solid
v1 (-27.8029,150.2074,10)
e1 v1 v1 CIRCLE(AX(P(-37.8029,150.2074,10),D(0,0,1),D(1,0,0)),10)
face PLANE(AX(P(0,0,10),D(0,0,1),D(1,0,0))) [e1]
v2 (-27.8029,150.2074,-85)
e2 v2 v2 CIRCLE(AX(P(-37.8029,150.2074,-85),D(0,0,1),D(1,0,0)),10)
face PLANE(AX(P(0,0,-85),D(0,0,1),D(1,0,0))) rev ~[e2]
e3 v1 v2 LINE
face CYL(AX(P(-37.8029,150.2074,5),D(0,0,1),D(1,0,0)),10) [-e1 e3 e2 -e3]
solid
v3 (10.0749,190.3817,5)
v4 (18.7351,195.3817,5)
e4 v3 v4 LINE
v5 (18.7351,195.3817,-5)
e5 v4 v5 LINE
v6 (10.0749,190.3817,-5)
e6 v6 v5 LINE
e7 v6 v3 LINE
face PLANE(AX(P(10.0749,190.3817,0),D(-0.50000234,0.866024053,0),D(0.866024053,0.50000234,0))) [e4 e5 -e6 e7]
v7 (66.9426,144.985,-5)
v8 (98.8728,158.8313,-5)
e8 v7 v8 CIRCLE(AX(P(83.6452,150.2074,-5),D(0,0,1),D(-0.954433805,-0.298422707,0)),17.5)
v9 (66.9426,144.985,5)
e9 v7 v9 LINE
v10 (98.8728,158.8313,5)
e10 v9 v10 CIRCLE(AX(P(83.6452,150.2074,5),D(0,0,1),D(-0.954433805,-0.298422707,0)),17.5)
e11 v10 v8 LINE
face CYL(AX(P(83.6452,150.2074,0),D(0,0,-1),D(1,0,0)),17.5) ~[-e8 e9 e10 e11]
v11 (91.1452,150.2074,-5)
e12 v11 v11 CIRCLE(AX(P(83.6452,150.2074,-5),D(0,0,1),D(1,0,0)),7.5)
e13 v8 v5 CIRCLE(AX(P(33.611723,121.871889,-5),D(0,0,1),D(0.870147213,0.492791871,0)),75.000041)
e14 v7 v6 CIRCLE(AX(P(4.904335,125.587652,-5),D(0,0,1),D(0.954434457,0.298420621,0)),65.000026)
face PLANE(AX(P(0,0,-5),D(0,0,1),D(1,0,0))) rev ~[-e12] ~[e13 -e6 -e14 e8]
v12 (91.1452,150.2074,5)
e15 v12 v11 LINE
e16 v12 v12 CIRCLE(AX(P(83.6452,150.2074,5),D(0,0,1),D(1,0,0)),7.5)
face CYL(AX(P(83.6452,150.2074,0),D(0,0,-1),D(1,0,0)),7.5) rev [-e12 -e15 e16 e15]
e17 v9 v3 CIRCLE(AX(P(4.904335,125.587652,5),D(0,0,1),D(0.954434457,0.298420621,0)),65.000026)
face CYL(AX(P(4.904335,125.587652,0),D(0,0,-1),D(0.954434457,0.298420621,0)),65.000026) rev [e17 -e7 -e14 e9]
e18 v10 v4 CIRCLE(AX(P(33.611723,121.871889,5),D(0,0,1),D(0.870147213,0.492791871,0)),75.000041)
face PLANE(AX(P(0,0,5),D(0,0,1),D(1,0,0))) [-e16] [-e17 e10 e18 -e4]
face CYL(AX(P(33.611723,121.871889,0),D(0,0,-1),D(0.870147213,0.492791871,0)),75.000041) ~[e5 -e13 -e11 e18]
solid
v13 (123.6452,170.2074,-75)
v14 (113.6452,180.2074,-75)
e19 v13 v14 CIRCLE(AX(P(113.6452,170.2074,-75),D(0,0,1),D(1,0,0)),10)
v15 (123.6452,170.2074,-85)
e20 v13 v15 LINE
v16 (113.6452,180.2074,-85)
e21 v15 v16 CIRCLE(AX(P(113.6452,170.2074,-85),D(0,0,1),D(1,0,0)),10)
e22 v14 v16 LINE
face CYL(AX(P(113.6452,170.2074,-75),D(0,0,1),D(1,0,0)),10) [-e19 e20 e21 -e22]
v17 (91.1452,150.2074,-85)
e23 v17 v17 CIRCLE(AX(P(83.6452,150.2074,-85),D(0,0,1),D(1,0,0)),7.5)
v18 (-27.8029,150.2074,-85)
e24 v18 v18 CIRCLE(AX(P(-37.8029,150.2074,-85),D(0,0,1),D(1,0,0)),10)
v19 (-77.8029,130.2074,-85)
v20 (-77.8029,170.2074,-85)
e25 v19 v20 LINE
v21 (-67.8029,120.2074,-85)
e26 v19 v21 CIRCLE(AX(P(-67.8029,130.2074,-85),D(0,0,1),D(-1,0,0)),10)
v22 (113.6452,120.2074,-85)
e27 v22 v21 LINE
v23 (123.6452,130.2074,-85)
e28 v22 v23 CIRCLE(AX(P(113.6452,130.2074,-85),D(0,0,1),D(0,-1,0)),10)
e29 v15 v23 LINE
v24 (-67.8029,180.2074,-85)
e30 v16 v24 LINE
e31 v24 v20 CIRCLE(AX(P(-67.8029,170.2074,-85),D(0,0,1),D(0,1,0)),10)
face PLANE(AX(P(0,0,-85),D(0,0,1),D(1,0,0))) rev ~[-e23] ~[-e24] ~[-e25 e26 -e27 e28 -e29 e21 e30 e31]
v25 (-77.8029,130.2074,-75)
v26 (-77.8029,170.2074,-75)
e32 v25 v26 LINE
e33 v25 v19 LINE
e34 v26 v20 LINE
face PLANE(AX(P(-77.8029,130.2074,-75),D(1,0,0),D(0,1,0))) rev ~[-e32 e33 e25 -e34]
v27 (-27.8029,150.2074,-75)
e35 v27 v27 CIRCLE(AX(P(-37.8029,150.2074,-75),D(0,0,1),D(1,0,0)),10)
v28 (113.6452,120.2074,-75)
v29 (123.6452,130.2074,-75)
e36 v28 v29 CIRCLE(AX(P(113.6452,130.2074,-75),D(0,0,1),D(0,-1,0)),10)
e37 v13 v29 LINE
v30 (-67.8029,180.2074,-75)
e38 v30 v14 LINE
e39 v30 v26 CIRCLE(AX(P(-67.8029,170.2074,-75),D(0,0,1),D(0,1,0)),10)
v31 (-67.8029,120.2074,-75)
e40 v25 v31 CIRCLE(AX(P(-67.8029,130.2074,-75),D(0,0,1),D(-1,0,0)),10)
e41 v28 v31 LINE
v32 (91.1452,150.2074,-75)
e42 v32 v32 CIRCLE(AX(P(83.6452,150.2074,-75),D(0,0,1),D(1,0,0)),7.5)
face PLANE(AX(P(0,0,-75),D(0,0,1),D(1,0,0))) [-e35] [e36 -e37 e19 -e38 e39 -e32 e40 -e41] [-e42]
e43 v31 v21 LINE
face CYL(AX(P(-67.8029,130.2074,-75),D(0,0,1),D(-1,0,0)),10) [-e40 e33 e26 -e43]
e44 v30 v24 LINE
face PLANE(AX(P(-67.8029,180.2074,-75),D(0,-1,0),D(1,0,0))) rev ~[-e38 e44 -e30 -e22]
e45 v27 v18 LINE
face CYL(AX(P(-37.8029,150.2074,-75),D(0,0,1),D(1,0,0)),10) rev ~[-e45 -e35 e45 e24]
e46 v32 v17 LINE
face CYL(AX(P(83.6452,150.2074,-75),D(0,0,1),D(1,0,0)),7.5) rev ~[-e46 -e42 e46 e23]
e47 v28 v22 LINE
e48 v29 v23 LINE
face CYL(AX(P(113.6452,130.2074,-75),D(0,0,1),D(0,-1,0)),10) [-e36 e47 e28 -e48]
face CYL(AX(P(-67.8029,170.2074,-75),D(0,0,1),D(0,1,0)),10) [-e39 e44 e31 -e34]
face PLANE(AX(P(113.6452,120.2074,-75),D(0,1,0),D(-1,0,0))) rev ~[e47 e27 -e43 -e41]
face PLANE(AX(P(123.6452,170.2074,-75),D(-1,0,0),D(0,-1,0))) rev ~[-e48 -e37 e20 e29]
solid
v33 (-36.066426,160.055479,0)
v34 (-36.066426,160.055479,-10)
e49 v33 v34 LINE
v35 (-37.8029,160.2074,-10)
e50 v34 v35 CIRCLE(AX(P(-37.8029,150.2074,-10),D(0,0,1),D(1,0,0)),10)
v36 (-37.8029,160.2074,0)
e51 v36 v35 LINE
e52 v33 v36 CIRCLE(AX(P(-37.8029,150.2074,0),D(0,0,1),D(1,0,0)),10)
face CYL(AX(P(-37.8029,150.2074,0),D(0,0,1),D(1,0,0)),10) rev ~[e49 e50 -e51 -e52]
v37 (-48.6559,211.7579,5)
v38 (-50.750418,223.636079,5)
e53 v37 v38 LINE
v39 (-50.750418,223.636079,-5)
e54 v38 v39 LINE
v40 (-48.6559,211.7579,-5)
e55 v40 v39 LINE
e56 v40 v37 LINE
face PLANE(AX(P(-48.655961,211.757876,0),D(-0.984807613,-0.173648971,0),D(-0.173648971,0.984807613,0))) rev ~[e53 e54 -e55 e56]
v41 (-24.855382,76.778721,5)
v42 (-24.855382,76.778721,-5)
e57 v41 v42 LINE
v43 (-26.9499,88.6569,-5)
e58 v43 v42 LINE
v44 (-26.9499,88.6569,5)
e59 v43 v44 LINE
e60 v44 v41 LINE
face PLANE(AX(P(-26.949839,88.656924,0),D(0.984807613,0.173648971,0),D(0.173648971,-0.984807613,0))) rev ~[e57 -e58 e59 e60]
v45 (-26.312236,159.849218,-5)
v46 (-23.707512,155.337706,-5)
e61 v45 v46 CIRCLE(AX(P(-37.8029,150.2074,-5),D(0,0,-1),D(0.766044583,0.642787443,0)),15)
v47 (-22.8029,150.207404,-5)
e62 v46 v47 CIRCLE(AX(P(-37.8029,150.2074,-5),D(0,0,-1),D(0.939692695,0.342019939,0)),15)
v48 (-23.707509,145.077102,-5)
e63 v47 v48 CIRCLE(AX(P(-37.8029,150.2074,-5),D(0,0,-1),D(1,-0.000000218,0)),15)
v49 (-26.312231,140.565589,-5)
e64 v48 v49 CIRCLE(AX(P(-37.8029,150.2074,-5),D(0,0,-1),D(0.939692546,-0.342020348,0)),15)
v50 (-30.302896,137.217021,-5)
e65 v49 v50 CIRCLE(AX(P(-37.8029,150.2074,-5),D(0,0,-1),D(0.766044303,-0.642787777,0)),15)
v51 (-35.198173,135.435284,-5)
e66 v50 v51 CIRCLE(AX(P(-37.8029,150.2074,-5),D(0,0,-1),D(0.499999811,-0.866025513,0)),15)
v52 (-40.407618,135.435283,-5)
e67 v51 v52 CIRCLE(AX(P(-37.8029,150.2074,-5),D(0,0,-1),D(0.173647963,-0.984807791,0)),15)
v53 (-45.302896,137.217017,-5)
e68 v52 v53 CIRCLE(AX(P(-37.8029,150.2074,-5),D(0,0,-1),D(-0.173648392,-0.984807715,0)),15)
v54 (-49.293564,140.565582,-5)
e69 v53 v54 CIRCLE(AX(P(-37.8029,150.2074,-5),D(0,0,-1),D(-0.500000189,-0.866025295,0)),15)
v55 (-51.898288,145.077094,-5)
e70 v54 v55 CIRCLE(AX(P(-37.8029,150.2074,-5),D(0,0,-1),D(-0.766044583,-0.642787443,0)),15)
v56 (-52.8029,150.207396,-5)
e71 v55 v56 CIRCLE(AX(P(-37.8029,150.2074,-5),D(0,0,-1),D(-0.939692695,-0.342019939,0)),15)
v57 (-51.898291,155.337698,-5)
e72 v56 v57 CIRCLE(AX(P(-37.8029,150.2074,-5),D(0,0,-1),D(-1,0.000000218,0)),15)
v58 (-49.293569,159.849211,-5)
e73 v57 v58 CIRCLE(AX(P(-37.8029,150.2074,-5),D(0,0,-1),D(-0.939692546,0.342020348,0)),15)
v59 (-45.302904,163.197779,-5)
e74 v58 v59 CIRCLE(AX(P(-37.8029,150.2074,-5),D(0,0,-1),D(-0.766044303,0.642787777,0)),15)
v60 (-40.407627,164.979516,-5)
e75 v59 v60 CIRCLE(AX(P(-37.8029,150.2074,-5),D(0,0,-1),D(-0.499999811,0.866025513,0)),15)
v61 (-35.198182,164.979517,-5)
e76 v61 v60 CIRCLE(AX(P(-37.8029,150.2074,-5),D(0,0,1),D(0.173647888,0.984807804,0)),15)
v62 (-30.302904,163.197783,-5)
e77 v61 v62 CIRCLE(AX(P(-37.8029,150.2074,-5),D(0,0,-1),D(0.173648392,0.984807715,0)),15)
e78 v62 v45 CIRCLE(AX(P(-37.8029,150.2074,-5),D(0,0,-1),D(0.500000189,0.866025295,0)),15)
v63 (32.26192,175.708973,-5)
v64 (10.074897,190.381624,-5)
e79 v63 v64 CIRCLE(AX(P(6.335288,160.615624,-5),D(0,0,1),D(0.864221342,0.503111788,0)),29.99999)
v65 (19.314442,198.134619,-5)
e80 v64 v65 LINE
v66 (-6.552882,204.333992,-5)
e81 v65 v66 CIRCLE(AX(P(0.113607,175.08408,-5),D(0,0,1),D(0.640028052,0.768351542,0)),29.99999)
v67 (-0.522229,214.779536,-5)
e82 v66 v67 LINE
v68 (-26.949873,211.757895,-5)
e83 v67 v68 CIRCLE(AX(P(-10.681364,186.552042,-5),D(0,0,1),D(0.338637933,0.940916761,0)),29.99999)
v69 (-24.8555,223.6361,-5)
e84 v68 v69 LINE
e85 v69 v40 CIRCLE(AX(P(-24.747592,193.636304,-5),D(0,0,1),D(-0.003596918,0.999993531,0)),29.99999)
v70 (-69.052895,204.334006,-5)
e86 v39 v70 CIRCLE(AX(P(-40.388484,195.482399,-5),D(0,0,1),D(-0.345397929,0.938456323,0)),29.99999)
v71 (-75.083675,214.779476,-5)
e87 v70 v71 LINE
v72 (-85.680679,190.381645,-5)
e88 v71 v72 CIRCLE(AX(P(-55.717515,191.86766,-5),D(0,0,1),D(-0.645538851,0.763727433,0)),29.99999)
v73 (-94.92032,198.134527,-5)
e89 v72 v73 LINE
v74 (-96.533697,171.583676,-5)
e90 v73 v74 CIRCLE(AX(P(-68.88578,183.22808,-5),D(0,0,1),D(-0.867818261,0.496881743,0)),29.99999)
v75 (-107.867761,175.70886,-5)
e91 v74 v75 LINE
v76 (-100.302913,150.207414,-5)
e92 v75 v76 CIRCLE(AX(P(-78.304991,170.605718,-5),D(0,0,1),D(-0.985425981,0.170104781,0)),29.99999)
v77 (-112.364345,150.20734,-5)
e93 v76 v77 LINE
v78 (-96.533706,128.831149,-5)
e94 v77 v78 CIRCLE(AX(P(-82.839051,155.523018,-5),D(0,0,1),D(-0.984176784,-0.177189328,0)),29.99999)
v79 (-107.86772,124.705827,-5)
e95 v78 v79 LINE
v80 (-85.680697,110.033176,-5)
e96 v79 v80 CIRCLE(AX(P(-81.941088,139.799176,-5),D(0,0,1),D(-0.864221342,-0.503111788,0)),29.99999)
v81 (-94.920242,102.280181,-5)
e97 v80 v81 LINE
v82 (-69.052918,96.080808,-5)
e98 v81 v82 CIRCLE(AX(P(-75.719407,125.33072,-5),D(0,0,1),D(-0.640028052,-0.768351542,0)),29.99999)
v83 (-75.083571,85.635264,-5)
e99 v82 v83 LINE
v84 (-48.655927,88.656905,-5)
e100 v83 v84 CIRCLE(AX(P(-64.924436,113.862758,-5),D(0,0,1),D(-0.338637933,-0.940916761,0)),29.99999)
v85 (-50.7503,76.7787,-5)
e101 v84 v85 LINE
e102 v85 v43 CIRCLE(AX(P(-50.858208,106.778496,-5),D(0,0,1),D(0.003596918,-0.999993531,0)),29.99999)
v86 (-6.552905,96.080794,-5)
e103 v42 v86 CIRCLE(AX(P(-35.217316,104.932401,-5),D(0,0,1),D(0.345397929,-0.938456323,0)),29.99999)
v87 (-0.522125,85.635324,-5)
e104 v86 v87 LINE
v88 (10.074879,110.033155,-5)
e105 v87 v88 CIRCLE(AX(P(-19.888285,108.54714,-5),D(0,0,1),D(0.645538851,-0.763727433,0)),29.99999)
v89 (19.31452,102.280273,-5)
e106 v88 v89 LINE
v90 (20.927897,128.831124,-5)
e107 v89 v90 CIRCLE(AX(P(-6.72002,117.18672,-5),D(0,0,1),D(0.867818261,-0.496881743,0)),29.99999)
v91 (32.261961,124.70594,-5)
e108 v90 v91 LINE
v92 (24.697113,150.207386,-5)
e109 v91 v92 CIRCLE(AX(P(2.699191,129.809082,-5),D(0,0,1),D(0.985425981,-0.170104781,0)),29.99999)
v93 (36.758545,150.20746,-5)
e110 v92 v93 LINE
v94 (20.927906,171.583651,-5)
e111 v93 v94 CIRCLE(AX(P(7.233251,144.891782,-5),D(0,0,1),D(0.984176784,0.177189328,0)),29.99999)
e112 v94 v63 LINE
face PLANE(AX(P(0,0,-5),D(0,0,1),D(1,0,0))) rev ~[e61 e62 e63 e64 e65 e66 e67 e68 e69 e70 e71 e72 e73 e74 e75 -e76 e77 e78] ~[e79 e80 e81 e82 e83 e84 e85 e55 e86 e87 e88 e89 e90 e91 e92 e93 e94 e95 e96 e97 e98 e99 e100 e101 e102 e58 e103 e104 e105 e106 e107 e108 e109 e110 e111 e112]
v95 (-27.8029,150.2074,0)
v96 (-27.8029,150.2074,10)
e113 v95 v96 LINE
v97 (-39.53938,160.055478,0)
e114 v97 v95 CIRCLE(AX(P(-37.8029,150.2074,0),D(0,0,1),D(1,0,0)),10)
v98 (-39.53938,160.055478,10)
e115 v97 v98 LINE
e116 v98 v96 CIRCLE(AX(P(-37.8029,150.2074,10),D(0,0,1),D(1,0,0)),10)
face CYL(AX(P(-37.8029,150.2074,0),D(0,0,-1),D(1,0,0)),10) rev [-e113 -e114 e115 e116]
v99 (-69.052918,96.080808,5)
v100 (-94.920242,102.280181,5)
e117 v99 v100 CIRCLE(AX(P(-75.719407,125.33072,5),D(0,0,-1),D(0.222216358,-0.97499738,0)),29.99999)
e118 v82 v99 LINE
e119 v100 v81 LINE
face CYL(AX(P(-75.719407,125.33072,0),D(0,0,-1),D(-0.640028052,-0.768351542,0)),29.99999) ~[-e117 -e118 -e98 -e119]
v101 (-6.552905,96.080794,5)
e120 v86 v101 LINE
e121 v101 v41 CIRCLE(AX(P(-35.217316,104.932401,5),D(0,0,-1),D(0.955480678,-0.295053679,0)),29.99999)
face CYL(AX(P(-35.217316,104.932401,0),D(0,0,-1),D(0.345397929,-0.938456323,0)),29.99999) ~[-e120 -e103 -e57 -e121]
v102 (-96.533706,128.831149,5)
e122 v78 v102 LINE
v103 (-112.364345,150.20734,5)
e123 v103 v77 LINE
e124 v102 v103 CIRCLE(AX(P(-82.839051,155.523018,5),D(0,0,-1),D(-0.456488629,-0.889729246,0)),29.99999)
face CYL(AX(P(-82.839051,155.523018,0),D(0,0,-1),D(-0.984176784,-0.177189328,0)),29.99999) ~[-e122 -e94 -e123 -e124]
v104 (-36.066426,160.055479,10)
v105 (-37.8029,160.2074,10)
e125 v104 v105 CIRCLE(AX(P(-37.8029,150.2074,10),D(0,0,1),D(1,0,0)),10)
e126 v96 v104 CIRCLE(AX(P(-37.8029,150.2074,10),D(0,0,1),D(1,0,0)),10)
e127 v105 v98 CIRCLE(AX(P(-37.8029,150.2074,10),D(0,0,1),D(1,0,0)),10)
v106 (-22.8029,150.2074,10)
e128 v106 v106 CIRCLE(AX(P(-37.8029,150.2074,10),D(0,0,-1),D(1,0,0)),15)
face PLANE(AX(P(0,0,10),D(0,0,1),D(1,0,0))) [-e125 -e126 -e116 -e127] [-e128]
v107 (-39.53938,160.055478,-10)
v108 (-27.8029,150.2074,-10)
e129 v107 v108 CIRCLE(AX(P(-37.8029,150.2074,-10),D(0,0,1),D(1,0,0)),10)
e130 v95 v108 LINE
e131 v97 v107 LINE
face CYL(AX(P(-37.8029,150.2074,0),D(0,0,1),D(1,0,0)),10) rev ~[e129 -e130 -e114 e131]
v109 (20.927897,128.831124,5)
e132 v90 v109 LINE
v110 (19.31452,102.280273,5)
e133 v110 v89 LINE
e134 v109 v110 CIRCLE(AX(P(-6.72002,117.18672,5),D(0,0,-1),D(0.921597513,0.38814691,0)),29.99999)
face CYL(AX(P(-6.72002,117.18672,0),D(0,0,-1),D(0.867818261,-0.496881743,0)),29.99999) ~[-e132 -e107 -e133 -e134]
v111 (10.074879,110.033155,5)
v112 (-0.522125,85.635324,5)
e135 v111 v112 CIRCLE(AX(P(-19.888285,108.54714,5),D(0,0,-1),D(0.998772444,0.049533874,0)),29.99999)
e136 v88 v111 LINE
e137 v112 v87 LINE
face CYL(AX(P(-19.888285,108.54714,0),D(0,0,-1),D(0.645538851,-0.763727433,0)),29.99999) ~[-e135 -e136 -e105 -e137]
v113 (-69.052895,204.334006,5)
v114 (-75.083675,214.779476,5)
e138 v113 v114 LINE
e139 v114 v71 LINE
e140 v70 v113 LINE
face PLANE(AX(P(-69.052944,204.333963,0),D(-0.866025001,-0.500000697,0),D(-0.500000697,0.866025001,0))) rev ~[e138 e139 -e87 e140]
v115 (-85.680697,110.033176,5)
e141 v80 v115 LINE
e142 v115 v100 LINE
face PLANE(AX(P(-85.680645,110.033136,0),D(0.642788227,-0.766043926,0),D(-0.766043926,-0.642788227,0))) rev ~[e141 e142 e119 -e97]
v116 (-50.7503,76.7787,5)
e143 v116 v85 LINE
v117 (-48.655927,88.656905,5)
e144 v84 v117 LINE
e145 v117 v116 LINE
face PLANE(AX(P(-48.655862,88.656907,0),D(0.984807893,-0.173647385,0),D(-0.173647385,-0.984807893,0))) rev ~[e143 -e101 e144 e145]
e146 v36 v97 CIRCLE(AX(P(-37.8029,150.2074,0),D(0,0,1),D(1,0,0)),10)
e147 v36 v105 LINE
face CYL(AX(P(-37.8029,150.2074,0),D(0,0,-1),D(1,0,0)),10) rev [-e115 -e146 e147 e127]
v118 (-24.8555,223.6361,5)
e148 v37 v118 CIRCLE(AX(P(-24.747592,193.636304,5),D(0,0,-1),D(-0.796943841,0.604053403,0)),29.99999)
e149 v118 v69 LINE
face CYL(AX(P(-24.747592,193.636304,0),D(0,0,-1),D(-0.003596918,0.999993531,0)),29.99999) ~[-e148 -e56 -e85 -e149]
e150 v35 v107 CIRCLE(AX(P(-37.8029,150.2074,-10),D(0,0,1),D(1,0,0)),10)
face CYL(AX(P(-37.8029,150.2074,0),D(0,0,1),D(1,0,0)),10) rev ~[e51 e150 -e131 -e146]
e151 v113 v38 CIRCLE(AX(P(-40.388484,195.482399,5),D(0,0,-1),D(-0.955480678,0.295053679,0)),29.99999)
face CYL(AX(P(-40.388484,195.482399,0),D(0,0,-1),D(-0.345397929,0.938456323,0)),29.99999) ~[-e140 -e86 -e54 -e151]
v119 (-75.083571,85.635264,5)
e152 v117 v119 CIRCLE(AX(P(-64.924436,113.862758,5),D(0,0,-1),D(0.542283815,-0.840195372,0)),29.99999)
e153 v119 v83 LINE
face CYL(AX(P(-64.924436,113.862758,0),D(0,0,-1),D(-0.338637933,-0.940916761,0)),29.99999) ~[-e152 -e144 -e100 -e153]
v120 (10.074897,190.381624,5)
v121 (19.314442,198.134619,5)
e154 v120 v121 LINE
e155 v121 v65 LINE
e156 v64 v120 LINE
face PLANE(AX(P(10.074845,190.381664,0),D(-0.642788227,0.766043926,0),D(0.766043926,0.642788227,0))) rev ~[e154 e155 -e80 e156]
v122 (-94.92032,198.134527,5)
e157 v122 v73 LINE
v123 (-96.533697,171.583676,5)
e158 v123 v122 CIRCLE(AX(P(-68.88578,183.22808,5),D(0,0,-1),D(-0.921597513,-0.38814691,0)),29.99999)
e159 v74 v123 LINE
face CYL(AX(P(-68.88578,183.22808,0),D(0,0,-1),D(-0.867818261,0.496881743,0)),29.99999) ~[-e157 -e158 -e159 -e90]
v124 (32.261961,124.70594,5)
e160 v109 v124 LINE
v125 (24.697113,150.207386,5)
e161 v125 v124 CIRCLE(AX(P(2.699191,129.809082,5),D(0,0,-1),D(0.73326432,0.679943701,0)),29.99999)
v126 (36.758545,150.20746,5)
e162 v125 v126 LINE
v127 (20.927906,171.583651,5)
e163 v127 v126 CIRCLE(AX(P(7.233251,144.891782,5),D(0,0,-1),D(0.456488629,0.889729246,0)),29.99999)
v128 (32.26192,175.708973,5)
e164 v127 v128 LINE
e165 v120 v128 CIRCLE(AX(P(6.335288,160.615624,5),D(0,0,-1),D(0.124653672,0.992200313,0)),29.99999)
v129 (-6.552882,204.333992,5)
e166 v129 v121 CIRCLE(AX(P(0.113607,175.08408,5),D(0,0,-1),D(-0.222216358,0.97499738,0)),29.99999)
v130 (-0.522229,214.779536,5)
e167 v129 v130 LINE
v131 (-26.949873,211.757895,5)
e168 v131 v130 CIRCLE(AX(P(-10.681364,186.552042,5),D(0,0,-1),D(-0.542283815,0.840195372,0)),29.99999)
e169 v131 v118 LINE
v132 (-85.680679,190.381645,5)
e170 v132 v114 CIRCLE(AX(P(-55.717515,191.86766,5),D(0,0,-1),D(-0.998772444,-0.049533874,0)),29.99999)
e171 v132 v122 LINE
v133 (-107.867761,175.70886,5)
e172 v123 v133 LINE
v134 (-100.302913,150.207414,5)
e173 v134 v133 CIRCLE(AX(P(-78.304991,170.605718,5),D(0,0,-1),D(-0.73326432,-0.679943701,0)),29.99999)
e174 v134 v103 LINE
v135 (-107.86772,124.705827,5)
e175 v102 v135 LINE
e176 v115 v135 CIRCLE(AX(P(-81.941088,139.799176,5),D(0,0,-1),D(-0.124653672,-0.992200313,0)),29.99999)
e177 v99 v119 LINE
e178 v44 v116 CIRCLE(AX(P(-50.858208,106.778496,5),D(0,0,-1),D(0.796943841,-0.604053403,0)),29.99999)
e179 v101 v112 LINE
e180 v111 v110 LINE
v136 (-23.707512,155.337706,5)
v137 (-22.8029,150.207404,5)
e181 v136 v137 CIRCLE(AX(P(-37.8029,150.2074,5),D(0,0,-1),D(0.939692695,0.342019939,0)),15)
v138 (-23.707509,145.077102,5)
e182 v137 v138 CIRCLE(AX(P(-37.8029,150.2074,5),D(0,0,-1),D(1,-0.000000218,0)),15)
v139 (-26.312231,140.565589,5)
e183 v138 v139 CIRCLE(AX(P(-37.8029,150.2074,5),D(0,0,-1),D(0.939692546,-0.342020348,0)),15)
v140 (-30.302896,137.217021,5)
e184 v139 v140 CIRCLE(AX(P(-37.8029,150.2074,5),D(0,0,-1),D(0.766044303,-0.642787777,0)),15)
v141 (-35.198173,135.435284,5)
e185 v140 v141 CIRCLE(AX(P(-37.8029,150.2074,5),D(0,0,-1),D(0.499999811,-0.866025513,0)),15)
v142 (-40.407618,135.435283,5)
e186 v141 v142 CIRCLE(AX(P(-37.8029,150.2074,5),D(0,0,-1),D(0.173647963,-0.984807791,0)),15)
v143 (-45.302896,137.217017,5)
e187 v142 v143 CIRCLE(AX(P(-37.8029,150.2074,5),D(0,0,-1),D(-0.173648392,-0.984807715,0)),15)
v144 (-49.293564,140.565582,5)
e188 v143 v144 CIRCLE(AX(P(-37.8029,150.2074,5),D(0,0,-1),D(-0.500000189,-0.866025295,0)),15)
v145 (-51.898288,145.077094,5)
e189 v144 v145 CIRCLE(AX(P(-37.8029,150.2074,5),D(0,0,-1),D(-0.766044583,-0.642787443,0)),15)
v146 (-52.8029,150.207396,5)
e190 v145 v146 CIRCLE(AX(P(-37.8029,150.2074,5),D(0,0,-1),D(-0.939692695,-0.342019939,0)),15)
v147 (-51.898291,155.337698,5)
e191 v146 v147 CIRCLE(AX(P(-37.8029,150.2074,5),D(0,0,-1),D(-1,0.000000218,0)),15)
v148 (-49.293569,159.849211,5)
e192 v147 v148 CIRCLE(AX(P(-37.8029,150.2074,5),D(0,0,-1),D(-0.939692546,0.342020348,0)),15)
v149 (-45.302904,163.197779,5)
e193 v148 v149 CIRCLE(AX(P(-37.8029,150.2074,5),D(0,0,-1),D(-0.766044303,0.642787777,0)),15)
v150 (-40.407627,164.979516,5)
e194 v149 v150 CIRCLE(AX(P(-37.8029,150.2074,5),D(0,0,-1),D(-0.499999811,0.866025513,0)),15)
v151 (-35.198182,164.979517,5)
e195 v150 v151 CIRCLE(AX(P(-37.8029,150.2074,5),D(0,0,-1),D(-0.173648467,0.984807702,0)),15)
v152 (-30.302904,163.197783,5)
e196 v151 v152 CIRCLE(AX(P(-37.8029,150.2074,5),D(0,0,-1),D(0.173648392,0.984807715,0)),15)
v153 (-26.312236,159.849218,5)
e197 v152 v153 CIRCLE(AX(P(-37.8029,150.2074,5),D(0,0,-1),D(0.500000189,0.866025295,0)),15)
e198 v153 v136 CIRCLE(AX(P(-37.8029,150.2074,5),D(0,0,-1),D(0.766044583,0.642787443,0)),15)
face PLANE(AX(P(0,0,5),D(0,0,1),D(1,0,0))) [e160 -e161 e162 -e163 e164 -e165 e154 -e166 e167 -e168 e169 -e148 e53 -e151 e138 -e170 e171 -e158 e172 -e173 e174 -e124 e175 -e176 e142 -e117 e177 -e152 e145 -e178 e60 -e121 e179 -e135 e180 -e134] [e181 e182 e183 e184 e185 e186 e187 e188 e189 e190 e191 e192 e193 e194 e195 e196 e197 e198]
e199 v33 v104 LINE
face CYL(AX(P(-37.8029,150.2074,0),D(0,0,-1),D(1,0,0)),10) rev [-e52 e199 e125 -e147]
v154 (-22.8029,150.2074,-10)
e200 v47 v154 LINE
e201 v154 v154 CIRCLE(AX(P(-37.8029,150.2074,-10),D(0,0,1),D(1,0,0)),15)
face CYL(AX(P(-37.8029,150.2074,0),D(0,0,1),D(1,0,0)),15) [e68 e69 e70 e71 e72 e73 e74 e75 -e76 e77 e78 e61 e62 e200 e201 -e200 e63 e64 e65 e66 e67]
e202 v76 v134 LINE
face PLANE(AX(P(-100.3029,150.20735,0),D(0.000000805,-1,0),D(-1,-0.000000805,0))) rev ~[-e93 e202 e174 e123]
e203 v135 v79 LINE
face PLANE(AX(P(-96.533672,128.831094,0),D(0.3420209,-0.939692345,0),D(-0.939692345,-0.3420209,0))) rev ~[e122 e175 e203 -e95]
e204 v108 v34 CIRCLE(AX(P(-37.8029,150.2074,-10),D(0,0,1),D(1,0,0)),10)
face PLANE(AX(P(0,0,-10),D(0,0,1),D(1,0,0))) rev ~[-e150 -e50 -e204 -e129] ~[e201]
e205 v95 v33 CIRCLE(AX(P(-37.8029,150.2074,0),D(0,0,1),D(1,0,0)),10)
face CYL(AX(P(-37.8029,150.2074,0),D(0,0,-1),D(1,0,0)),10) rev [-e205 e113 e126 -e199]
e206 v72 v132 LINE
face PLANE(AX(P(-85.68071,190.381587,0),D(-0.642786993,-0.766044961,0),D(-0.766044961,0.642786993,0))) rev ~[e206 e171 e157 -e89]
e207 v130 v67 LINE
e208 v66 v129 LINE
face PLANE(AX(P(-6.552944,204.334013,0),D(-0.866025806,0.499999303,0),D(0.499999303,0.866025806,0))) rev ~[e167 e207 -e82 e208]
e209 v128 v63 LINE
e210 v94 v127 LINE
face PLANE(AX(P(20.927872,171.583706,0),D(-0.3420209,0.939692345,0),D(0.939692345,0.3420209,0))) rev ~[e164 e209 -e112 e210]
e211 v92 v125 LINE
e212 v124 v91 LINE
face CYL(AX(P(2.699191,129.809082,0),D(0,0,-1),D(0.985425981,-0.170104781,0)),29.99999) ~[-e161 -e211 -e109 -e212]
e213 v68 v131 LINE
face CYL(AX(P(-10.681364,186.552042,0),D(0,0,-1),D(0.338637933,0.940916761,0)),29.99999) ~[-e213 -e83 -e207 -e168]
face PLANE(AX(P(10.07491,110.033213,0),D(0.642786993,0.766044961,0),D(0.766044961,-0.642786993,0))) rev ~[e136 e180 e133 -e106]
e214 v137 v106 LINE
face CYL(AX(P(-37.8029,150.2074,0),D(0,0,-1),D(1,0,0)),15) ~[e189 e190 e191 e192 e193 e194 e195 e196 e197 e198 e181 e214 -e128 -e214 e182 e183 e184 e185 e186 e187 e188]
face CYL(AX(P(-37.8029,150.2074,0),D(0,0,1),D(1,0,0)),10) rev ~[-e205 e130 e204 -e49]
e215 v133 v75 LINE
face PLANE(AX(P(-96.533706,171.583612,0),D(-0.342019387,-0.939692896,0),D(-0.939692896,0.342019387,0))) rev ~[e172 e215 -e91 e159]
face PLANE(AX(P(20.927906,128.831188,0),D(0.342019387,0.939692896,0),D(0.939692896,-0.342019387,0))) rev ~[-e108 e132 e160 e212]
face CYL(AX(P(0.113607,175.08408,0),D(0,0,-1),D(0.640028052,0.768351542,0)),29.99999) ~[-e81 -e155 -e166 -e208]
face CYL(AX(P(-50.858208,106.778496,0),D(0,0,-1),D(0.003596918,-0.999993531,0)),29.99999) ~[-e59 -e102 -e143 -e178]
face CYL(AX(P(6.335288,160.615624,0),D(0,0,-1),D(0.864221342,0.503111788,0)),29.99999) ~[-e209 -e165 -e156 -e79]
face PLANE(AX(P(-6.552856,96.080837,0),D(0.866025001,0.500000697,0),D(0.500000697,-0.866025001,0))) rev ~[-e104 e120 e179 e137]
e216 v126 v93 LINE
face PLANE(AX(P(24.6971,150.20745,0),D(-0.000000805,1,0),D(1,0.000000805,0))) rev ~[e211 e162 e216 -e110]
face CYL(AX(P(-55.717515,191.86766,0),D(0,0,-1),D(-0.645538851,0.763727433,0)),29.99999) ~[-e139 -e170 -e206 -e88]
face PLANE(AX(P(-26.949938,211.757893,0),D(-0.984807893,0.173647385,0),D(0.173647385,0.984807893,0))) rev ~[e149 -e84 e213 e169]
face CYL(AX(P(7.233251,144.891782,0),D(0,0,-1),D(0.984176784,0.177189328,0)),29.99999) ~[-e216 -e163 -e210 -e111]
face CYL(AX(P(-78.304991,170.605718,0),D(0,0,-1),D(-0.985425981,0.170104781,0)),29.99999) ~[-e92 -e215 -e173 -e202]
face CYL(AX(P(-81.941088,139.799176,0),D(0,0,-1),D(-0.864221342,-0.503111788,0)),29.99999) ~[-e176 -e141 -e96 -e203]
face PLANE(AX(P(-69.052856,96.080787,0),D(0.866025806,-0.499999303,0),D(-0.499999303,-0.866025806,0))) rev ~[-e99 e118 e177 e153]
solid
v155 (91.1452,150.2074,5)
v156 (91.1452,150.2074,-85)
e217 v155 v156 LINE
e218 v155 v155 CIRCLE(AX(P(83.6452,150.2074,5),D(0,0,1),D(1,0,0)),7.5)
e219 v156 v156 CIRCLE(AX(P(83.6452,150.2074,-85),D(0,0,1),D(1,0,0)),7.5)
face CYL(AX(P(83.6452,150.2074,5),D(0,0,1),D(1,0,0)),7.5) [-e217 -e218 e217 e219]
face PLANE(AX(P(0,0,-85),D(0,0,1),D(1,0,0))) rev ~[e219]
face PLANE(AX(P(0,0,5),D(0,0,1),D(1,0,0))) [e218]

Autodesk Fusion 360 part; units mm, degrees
sketch "Sketch1" plane through (0, 0, 0) normal (0, 0, 1) x (1, 0, 0)
  circle A0 centre (-37.8029, 150.2074) radius 62.5
  circle A1 centre (-37.8029, 150.2074) radius 75
  line L0 (-37.8029, 150.2074) -> (-37.8029, 225.2074)
  line L1 (-37.8029, 150.2074) -> (-48.6559, 211.7579)
  line L2 (-37.8029, 150.2074) -> (24.6971, 150.2074) construction
  line L3 (-37.8029, 150.2074) -> (-24.8555, 223.6361)
  line L4 (-37.8029, 150.2074) -> (37.1971, 150.2074) construction
  arc A2 (-24.8555, 223.6361) -> (-48.6559, 211.7579) centre (-24.7476, 193.6363) ccw
  circle A3 centre (-37.8029, 150.2074) radius 15
  circle A4 centre (-37.8029, 150.2074) radius 10
  dimension "d1" = 125
  dimension "d2" = 12.5
  dimension "d3" = 100
  dimension "d4" = 62.5
  dimension "d5" = 80
  dimension "d6" = 30
  dimension "d8" = 30
  dimension "d9" = 20
extrude "Extrude1" add sketch "Sketch1" along normal mid plane 10 contours A0 L0 A2 | A0 L0 L1 A3 | A0 L0 L3 A2 | A0 L0 L3 A3 makes body 1
pattern_circular "C-Pattern1" count 18 over 360 about axis through (-37.8029, 150.2074, 5) along (0, 0, -1) of bodies 1 makes body 2 at (-19.2583, 196.5784, 5) makes body 3 at (-4.5169, 187.4393, 5) makes body 4 at (6.2097, 173.8094, -5) makes body 5 at (11.6278, 157.3328, 5) makes body 6 at (11.0838, 139.9968, 5) makes body 7 at (4.6434, 123.8923, 5) makes body 8 at (-6.9168, 110.9619, 5) makes body 9 at (-22.2022, 102.765, 5) makes body 10 at (-39.3693, 100.2903, 5) makes body 11 at (-56.3475, 103.8364, 5) makes body 12 at (-71.0889, 112.9756, -5) makes body 13 at (-81.8156, 126.6054, 5) makes body 14 at (-87.2337, 143.082, 5) makes body 15 at (-86.6897, 160.418, 5) makes body 16 at (-80.2492, 176.5225, 5) makes body 17 at (-68.6891, 189.453, 5) makes body 18 at (-53.4036, 197.6499, 5)
extrude "Extrude2" add sketch "Sketch1" along normal mid plane 20 contours L0 L1 A3 A4 | L1 L3 A3 A4 | L0 L3 A3 A4 bodies 1 2 3 4 5 6 7 8 9 10 11 12 13 14 15 16 17 18
copy_body "Body->Comp1" bodies 1 removing the originals makes body 19 in component "Component"
sketch "Sketch2" plane through (0, 0, 0) normal (0, 0, 1) x (1, 0, 0)
  circle A0 centre (-37.8029, 150.2074) radius 10
  circle A1 centre (-37.8029, 150.2074) radius 15
  line L0 (-48.6559, 211.7579) -> (-50.7504, 223.6361)
  arc A2 (-50.7504, 223.6361) -> (-69.0529, 204.334) centre (-40.3885, 195.4824) ccw
  line L1 (-69.0529, 204.334) -> (-75.0836, 214.7795)
  arc A3 (-75.0836, 214.7795) -> (-85.6807, 190.3817) centre (-55.7175, 191.8677) ccw
  line L2 (-85.6807, 190.3817) -> (-94.9203, 198.1346)
  arc A4 (-94.9203, 198.1346) -> (-96.5337, 171.5837) centre (-68.8858, 183.2281) ccw
  line L3 (-96.5337, 171.5837) -> (-107.8678, 175.7089)
  arc A5 (-107.8678, 175.7089) -> (-100.3029, 150.2074) centre (-78.305, 170.6057) ccw
  line L4 (-100.3029, 150.2074) -> (-112.3644, 150.2074)
  arc A6 (-112.3644, 150.2074) -> (-96.5337, 128.8312) centre (-82.839, 155.523) ccw
  line L5 (-96.5337, 128.8312) -> (-107.8678, 124.7059)
  arc A7 (-107.8678, 124.7059) -> (-85.6807, 110.0332) centre (-81.9411, 139.7992) ccw
  line L6 (-85.6807, 110.0332) -> (-94.9203, 102.2803)
  arc A8 (-94.9203, 102.2803) -> (-69.0529, 96.0808) centre (-75.7194, 125.3308) ccw
  line L7 (-69.0529, 96.0808) -> (-75.0836, 85.6353)
  arc A9 (-75.0836, 85.6353) -> (-48.6559, 88.6569) centre (-64.9244, 113.8628) ccw
  line L8 (-48.6559, 88.6569) -> (-50.7504, 76.7787)
  arc A10 (-50.7504, 76.7787) -> (-26.9499, 88.6569) centre (-50.8582, 106.7785) ccw
  line L9 (-26.9499, 88.6569) -> (-24.8555, 76.7787)
  arc A11 (-24.8555, 76.7787) -> (-6.5529, 96.0808) centre (-35.2173, 104.9325) ccw
  line L10 (-6.5529, 96.0808) -> (-0.5222, 85.6353)
  arc A12 (-0.5222, 85.6353) -> (10.0749, 110.0332) centre (-19.8883, 108.5472) ccw
  line L11 (10.0749, 110.0332) -> (19.3145, 102.2803)
  arc A13 (19.3145, 102.2803) -> (20.9279, 128.8312) centre (-6.7201, 117.1868) ccw
  line L12 (20.9279, 128.8312) -> (32.2619, 124.7059)
  arc A14 (32.2619, 124.7059) -> (24.6971, 150.2074) centre (2.6991, 129.8091) ccw
  line L13 (24.6971, 150.2074) -> (36.7585, 150.2074)
  arc A15 (36.7585, 150.2074) -> (20.9279, 171.5837) centre (7.2332, 144.8918) ccw
  line L14 (20.9279, 171.5837) -> (32.2619, 175.7089)
  arc A16 (32.2619, 175.7089) -> (10.0749, 190.3817) centre (6.3352, 160.6156) ccw
  line L15 (10.0749, 190.3817) -> (19.3145, 198.1346)
  arc A17 (19.3145, 198.1346) -> (-6.5529, 204.334) centre (0.1136, 175.0841) ccw
  line L16 (-6.5529, 204.334) -> (-0.5222, 214.7795)
  arc A18 (-0.5222, 214.7795) -> (-26.9499, 211.7579) centre (-10.6814, 186.552) ccw
  line L17 (-26.9499, 211.7579) -> (-24.8555, 223.6361)
  arc A19 (-24.8555, 223.6361) -> (-48.6559, 211.7579) centre (-24.7476, 193.6363) ccw
  circle A20 centre (83.6452, 150.2074) radius 17.5
  arc A21 (66.9426, 144.985) -> (10.0749, 190.3817) centre (4.9044, 125.5876) ccw
  circle A22 centre (83.6452, 150.2074) radius 7.5
  line L18 (10.0749, 190.3817) -> (18.7351, 195.3817)
  line L19 (10.0749, 190.3817) -> (20.0749, 190.3817) construction
  arc A23 (98.8728, 158.8313) -> (18.7351, 195.3817) centre (33.6117, 121.8719) ccw
  dimension "d16" = 35
  dimension "d17" = 65
  dimension "d19" = 15
  dimension "d44" = 30
  dimension "d45" = 10
  dimension "d46" = 75
extrude "Extrude1'" add sketch "Sketch2" along normal mid plane 10 separate body contours A20 A21 L18 A23 | A20 makes body 20 in component "Component'"
sketch "Sketch3" plane through (0, 0, 5) normal (0, 0, 1) x (1, 0, 0)
  circle A0 centre (83.6452, 150.2074) radius 7.5
  line L0 (-67.8029, 180.2074) -> (113.6452, 180.2074)
  line L1 (123.6452, 170.2074) -> (123.6452, 130.2074)
  line L2 (113.6452, 120.2074) -> (-67.8029, 120.2074)
  line L3 (-77.8029, 130.2074) -> (-77.8029, 170.2074)
  circle A1 centre (-37.8029, 150.2074) radius 10
  circle A2 centre (83.6452, 150.2074) radius 7.5
  arc A3 (-67.8029, 180.2074) -> (-77.8029, 170.2074) centre (-67.8029, 170.2074) ccw
  arc A4 (-77.8029, 130.2074) -> (-67.8029, 120.2074) centre (-67.8029, 130.2074) ccw
  arc A5 (123.6452, 170.2074) -> (113.6452, 180.2074) centre (113.6452, 170.2074) ccw
  arc A6 (113.6452, 120.2074) -> (123.6452, 130.2074) centre (113.6452, 130.2074) ccw
  arc A7 (66.9426, 144.985) -> (98.8728, 158.8313) centre (83.6452, 150.2074) ccw
  arc A8 (98.8728, 158.8313) -> (18.7351, 195.3817) centre (33.6117, 121.8719) ccw
  line L4 (18.7351, 195.3817) -> (10.0749, 190.3817)
  arc A9 (66.9426, 144.985) -> (10.0749, 190.3817) centre (4.9044, 125.5876) ccw
  dimension "d22" = 40
  dimension "d23" = 30
  dimension "d24" = 30
  dimension "d25" = 40
  dimension "d26" = 10
extrude "Extrude3" add sketch "Sketch3" against normal blind 10 from surface at -80 separate body contours L0 L1 L2 L3 A3 A4 A5 A6 A7 A8 A9 | L0 A7 A8 A9 makes body 21
copy_body "Body->Comp2" bodies 21 removing the originals makes body 22 in component "Component''"
extrude "Extrude1''" add sketch "Sketch3" against normal blind 90 separate body contours A0 A2 | A1 makes body 23 at (90.9133, 152.0581, -55) makes body 24 at (-27.8154, 149.709, -55) in component "Component'''"
move_face "OffsetFaces1" offset 5 1 faces at (-40.9509, 149.7217, 5) on bodies 24 in component "Component'''"
copy_body "Body->Comp1'" bodies 23 removing the originals makes body 25 in component "Component''''"
copy_body "Body->Comp2'" bodies 24 removing the originals makes body 26 in component "Component'''''"
component "Component" placed x (1, 0, 0) y (0, 1, 0) z (0, 0, 1) at (0, 0, 0)
component "Component'" placed x (1, 0, 0) y (0, 1, 0) z (0, 0, 1) at (0, 0, 0)
component "Component''" placed x (1, 0, 0) y (0, 1, 0) z (0, 0, 1) at (0, 0, 0)
component "Component'''''" placed x (1, 0, 0) y (0, 1, 0) z (0, 0, 1) at (0, 0, 0) in component "Component''"
component "Component''''" placed x (1, 0, 0) y (0, 1, 0) z (0, 0, 1) at (0, 0, 0) in component "Component''"
